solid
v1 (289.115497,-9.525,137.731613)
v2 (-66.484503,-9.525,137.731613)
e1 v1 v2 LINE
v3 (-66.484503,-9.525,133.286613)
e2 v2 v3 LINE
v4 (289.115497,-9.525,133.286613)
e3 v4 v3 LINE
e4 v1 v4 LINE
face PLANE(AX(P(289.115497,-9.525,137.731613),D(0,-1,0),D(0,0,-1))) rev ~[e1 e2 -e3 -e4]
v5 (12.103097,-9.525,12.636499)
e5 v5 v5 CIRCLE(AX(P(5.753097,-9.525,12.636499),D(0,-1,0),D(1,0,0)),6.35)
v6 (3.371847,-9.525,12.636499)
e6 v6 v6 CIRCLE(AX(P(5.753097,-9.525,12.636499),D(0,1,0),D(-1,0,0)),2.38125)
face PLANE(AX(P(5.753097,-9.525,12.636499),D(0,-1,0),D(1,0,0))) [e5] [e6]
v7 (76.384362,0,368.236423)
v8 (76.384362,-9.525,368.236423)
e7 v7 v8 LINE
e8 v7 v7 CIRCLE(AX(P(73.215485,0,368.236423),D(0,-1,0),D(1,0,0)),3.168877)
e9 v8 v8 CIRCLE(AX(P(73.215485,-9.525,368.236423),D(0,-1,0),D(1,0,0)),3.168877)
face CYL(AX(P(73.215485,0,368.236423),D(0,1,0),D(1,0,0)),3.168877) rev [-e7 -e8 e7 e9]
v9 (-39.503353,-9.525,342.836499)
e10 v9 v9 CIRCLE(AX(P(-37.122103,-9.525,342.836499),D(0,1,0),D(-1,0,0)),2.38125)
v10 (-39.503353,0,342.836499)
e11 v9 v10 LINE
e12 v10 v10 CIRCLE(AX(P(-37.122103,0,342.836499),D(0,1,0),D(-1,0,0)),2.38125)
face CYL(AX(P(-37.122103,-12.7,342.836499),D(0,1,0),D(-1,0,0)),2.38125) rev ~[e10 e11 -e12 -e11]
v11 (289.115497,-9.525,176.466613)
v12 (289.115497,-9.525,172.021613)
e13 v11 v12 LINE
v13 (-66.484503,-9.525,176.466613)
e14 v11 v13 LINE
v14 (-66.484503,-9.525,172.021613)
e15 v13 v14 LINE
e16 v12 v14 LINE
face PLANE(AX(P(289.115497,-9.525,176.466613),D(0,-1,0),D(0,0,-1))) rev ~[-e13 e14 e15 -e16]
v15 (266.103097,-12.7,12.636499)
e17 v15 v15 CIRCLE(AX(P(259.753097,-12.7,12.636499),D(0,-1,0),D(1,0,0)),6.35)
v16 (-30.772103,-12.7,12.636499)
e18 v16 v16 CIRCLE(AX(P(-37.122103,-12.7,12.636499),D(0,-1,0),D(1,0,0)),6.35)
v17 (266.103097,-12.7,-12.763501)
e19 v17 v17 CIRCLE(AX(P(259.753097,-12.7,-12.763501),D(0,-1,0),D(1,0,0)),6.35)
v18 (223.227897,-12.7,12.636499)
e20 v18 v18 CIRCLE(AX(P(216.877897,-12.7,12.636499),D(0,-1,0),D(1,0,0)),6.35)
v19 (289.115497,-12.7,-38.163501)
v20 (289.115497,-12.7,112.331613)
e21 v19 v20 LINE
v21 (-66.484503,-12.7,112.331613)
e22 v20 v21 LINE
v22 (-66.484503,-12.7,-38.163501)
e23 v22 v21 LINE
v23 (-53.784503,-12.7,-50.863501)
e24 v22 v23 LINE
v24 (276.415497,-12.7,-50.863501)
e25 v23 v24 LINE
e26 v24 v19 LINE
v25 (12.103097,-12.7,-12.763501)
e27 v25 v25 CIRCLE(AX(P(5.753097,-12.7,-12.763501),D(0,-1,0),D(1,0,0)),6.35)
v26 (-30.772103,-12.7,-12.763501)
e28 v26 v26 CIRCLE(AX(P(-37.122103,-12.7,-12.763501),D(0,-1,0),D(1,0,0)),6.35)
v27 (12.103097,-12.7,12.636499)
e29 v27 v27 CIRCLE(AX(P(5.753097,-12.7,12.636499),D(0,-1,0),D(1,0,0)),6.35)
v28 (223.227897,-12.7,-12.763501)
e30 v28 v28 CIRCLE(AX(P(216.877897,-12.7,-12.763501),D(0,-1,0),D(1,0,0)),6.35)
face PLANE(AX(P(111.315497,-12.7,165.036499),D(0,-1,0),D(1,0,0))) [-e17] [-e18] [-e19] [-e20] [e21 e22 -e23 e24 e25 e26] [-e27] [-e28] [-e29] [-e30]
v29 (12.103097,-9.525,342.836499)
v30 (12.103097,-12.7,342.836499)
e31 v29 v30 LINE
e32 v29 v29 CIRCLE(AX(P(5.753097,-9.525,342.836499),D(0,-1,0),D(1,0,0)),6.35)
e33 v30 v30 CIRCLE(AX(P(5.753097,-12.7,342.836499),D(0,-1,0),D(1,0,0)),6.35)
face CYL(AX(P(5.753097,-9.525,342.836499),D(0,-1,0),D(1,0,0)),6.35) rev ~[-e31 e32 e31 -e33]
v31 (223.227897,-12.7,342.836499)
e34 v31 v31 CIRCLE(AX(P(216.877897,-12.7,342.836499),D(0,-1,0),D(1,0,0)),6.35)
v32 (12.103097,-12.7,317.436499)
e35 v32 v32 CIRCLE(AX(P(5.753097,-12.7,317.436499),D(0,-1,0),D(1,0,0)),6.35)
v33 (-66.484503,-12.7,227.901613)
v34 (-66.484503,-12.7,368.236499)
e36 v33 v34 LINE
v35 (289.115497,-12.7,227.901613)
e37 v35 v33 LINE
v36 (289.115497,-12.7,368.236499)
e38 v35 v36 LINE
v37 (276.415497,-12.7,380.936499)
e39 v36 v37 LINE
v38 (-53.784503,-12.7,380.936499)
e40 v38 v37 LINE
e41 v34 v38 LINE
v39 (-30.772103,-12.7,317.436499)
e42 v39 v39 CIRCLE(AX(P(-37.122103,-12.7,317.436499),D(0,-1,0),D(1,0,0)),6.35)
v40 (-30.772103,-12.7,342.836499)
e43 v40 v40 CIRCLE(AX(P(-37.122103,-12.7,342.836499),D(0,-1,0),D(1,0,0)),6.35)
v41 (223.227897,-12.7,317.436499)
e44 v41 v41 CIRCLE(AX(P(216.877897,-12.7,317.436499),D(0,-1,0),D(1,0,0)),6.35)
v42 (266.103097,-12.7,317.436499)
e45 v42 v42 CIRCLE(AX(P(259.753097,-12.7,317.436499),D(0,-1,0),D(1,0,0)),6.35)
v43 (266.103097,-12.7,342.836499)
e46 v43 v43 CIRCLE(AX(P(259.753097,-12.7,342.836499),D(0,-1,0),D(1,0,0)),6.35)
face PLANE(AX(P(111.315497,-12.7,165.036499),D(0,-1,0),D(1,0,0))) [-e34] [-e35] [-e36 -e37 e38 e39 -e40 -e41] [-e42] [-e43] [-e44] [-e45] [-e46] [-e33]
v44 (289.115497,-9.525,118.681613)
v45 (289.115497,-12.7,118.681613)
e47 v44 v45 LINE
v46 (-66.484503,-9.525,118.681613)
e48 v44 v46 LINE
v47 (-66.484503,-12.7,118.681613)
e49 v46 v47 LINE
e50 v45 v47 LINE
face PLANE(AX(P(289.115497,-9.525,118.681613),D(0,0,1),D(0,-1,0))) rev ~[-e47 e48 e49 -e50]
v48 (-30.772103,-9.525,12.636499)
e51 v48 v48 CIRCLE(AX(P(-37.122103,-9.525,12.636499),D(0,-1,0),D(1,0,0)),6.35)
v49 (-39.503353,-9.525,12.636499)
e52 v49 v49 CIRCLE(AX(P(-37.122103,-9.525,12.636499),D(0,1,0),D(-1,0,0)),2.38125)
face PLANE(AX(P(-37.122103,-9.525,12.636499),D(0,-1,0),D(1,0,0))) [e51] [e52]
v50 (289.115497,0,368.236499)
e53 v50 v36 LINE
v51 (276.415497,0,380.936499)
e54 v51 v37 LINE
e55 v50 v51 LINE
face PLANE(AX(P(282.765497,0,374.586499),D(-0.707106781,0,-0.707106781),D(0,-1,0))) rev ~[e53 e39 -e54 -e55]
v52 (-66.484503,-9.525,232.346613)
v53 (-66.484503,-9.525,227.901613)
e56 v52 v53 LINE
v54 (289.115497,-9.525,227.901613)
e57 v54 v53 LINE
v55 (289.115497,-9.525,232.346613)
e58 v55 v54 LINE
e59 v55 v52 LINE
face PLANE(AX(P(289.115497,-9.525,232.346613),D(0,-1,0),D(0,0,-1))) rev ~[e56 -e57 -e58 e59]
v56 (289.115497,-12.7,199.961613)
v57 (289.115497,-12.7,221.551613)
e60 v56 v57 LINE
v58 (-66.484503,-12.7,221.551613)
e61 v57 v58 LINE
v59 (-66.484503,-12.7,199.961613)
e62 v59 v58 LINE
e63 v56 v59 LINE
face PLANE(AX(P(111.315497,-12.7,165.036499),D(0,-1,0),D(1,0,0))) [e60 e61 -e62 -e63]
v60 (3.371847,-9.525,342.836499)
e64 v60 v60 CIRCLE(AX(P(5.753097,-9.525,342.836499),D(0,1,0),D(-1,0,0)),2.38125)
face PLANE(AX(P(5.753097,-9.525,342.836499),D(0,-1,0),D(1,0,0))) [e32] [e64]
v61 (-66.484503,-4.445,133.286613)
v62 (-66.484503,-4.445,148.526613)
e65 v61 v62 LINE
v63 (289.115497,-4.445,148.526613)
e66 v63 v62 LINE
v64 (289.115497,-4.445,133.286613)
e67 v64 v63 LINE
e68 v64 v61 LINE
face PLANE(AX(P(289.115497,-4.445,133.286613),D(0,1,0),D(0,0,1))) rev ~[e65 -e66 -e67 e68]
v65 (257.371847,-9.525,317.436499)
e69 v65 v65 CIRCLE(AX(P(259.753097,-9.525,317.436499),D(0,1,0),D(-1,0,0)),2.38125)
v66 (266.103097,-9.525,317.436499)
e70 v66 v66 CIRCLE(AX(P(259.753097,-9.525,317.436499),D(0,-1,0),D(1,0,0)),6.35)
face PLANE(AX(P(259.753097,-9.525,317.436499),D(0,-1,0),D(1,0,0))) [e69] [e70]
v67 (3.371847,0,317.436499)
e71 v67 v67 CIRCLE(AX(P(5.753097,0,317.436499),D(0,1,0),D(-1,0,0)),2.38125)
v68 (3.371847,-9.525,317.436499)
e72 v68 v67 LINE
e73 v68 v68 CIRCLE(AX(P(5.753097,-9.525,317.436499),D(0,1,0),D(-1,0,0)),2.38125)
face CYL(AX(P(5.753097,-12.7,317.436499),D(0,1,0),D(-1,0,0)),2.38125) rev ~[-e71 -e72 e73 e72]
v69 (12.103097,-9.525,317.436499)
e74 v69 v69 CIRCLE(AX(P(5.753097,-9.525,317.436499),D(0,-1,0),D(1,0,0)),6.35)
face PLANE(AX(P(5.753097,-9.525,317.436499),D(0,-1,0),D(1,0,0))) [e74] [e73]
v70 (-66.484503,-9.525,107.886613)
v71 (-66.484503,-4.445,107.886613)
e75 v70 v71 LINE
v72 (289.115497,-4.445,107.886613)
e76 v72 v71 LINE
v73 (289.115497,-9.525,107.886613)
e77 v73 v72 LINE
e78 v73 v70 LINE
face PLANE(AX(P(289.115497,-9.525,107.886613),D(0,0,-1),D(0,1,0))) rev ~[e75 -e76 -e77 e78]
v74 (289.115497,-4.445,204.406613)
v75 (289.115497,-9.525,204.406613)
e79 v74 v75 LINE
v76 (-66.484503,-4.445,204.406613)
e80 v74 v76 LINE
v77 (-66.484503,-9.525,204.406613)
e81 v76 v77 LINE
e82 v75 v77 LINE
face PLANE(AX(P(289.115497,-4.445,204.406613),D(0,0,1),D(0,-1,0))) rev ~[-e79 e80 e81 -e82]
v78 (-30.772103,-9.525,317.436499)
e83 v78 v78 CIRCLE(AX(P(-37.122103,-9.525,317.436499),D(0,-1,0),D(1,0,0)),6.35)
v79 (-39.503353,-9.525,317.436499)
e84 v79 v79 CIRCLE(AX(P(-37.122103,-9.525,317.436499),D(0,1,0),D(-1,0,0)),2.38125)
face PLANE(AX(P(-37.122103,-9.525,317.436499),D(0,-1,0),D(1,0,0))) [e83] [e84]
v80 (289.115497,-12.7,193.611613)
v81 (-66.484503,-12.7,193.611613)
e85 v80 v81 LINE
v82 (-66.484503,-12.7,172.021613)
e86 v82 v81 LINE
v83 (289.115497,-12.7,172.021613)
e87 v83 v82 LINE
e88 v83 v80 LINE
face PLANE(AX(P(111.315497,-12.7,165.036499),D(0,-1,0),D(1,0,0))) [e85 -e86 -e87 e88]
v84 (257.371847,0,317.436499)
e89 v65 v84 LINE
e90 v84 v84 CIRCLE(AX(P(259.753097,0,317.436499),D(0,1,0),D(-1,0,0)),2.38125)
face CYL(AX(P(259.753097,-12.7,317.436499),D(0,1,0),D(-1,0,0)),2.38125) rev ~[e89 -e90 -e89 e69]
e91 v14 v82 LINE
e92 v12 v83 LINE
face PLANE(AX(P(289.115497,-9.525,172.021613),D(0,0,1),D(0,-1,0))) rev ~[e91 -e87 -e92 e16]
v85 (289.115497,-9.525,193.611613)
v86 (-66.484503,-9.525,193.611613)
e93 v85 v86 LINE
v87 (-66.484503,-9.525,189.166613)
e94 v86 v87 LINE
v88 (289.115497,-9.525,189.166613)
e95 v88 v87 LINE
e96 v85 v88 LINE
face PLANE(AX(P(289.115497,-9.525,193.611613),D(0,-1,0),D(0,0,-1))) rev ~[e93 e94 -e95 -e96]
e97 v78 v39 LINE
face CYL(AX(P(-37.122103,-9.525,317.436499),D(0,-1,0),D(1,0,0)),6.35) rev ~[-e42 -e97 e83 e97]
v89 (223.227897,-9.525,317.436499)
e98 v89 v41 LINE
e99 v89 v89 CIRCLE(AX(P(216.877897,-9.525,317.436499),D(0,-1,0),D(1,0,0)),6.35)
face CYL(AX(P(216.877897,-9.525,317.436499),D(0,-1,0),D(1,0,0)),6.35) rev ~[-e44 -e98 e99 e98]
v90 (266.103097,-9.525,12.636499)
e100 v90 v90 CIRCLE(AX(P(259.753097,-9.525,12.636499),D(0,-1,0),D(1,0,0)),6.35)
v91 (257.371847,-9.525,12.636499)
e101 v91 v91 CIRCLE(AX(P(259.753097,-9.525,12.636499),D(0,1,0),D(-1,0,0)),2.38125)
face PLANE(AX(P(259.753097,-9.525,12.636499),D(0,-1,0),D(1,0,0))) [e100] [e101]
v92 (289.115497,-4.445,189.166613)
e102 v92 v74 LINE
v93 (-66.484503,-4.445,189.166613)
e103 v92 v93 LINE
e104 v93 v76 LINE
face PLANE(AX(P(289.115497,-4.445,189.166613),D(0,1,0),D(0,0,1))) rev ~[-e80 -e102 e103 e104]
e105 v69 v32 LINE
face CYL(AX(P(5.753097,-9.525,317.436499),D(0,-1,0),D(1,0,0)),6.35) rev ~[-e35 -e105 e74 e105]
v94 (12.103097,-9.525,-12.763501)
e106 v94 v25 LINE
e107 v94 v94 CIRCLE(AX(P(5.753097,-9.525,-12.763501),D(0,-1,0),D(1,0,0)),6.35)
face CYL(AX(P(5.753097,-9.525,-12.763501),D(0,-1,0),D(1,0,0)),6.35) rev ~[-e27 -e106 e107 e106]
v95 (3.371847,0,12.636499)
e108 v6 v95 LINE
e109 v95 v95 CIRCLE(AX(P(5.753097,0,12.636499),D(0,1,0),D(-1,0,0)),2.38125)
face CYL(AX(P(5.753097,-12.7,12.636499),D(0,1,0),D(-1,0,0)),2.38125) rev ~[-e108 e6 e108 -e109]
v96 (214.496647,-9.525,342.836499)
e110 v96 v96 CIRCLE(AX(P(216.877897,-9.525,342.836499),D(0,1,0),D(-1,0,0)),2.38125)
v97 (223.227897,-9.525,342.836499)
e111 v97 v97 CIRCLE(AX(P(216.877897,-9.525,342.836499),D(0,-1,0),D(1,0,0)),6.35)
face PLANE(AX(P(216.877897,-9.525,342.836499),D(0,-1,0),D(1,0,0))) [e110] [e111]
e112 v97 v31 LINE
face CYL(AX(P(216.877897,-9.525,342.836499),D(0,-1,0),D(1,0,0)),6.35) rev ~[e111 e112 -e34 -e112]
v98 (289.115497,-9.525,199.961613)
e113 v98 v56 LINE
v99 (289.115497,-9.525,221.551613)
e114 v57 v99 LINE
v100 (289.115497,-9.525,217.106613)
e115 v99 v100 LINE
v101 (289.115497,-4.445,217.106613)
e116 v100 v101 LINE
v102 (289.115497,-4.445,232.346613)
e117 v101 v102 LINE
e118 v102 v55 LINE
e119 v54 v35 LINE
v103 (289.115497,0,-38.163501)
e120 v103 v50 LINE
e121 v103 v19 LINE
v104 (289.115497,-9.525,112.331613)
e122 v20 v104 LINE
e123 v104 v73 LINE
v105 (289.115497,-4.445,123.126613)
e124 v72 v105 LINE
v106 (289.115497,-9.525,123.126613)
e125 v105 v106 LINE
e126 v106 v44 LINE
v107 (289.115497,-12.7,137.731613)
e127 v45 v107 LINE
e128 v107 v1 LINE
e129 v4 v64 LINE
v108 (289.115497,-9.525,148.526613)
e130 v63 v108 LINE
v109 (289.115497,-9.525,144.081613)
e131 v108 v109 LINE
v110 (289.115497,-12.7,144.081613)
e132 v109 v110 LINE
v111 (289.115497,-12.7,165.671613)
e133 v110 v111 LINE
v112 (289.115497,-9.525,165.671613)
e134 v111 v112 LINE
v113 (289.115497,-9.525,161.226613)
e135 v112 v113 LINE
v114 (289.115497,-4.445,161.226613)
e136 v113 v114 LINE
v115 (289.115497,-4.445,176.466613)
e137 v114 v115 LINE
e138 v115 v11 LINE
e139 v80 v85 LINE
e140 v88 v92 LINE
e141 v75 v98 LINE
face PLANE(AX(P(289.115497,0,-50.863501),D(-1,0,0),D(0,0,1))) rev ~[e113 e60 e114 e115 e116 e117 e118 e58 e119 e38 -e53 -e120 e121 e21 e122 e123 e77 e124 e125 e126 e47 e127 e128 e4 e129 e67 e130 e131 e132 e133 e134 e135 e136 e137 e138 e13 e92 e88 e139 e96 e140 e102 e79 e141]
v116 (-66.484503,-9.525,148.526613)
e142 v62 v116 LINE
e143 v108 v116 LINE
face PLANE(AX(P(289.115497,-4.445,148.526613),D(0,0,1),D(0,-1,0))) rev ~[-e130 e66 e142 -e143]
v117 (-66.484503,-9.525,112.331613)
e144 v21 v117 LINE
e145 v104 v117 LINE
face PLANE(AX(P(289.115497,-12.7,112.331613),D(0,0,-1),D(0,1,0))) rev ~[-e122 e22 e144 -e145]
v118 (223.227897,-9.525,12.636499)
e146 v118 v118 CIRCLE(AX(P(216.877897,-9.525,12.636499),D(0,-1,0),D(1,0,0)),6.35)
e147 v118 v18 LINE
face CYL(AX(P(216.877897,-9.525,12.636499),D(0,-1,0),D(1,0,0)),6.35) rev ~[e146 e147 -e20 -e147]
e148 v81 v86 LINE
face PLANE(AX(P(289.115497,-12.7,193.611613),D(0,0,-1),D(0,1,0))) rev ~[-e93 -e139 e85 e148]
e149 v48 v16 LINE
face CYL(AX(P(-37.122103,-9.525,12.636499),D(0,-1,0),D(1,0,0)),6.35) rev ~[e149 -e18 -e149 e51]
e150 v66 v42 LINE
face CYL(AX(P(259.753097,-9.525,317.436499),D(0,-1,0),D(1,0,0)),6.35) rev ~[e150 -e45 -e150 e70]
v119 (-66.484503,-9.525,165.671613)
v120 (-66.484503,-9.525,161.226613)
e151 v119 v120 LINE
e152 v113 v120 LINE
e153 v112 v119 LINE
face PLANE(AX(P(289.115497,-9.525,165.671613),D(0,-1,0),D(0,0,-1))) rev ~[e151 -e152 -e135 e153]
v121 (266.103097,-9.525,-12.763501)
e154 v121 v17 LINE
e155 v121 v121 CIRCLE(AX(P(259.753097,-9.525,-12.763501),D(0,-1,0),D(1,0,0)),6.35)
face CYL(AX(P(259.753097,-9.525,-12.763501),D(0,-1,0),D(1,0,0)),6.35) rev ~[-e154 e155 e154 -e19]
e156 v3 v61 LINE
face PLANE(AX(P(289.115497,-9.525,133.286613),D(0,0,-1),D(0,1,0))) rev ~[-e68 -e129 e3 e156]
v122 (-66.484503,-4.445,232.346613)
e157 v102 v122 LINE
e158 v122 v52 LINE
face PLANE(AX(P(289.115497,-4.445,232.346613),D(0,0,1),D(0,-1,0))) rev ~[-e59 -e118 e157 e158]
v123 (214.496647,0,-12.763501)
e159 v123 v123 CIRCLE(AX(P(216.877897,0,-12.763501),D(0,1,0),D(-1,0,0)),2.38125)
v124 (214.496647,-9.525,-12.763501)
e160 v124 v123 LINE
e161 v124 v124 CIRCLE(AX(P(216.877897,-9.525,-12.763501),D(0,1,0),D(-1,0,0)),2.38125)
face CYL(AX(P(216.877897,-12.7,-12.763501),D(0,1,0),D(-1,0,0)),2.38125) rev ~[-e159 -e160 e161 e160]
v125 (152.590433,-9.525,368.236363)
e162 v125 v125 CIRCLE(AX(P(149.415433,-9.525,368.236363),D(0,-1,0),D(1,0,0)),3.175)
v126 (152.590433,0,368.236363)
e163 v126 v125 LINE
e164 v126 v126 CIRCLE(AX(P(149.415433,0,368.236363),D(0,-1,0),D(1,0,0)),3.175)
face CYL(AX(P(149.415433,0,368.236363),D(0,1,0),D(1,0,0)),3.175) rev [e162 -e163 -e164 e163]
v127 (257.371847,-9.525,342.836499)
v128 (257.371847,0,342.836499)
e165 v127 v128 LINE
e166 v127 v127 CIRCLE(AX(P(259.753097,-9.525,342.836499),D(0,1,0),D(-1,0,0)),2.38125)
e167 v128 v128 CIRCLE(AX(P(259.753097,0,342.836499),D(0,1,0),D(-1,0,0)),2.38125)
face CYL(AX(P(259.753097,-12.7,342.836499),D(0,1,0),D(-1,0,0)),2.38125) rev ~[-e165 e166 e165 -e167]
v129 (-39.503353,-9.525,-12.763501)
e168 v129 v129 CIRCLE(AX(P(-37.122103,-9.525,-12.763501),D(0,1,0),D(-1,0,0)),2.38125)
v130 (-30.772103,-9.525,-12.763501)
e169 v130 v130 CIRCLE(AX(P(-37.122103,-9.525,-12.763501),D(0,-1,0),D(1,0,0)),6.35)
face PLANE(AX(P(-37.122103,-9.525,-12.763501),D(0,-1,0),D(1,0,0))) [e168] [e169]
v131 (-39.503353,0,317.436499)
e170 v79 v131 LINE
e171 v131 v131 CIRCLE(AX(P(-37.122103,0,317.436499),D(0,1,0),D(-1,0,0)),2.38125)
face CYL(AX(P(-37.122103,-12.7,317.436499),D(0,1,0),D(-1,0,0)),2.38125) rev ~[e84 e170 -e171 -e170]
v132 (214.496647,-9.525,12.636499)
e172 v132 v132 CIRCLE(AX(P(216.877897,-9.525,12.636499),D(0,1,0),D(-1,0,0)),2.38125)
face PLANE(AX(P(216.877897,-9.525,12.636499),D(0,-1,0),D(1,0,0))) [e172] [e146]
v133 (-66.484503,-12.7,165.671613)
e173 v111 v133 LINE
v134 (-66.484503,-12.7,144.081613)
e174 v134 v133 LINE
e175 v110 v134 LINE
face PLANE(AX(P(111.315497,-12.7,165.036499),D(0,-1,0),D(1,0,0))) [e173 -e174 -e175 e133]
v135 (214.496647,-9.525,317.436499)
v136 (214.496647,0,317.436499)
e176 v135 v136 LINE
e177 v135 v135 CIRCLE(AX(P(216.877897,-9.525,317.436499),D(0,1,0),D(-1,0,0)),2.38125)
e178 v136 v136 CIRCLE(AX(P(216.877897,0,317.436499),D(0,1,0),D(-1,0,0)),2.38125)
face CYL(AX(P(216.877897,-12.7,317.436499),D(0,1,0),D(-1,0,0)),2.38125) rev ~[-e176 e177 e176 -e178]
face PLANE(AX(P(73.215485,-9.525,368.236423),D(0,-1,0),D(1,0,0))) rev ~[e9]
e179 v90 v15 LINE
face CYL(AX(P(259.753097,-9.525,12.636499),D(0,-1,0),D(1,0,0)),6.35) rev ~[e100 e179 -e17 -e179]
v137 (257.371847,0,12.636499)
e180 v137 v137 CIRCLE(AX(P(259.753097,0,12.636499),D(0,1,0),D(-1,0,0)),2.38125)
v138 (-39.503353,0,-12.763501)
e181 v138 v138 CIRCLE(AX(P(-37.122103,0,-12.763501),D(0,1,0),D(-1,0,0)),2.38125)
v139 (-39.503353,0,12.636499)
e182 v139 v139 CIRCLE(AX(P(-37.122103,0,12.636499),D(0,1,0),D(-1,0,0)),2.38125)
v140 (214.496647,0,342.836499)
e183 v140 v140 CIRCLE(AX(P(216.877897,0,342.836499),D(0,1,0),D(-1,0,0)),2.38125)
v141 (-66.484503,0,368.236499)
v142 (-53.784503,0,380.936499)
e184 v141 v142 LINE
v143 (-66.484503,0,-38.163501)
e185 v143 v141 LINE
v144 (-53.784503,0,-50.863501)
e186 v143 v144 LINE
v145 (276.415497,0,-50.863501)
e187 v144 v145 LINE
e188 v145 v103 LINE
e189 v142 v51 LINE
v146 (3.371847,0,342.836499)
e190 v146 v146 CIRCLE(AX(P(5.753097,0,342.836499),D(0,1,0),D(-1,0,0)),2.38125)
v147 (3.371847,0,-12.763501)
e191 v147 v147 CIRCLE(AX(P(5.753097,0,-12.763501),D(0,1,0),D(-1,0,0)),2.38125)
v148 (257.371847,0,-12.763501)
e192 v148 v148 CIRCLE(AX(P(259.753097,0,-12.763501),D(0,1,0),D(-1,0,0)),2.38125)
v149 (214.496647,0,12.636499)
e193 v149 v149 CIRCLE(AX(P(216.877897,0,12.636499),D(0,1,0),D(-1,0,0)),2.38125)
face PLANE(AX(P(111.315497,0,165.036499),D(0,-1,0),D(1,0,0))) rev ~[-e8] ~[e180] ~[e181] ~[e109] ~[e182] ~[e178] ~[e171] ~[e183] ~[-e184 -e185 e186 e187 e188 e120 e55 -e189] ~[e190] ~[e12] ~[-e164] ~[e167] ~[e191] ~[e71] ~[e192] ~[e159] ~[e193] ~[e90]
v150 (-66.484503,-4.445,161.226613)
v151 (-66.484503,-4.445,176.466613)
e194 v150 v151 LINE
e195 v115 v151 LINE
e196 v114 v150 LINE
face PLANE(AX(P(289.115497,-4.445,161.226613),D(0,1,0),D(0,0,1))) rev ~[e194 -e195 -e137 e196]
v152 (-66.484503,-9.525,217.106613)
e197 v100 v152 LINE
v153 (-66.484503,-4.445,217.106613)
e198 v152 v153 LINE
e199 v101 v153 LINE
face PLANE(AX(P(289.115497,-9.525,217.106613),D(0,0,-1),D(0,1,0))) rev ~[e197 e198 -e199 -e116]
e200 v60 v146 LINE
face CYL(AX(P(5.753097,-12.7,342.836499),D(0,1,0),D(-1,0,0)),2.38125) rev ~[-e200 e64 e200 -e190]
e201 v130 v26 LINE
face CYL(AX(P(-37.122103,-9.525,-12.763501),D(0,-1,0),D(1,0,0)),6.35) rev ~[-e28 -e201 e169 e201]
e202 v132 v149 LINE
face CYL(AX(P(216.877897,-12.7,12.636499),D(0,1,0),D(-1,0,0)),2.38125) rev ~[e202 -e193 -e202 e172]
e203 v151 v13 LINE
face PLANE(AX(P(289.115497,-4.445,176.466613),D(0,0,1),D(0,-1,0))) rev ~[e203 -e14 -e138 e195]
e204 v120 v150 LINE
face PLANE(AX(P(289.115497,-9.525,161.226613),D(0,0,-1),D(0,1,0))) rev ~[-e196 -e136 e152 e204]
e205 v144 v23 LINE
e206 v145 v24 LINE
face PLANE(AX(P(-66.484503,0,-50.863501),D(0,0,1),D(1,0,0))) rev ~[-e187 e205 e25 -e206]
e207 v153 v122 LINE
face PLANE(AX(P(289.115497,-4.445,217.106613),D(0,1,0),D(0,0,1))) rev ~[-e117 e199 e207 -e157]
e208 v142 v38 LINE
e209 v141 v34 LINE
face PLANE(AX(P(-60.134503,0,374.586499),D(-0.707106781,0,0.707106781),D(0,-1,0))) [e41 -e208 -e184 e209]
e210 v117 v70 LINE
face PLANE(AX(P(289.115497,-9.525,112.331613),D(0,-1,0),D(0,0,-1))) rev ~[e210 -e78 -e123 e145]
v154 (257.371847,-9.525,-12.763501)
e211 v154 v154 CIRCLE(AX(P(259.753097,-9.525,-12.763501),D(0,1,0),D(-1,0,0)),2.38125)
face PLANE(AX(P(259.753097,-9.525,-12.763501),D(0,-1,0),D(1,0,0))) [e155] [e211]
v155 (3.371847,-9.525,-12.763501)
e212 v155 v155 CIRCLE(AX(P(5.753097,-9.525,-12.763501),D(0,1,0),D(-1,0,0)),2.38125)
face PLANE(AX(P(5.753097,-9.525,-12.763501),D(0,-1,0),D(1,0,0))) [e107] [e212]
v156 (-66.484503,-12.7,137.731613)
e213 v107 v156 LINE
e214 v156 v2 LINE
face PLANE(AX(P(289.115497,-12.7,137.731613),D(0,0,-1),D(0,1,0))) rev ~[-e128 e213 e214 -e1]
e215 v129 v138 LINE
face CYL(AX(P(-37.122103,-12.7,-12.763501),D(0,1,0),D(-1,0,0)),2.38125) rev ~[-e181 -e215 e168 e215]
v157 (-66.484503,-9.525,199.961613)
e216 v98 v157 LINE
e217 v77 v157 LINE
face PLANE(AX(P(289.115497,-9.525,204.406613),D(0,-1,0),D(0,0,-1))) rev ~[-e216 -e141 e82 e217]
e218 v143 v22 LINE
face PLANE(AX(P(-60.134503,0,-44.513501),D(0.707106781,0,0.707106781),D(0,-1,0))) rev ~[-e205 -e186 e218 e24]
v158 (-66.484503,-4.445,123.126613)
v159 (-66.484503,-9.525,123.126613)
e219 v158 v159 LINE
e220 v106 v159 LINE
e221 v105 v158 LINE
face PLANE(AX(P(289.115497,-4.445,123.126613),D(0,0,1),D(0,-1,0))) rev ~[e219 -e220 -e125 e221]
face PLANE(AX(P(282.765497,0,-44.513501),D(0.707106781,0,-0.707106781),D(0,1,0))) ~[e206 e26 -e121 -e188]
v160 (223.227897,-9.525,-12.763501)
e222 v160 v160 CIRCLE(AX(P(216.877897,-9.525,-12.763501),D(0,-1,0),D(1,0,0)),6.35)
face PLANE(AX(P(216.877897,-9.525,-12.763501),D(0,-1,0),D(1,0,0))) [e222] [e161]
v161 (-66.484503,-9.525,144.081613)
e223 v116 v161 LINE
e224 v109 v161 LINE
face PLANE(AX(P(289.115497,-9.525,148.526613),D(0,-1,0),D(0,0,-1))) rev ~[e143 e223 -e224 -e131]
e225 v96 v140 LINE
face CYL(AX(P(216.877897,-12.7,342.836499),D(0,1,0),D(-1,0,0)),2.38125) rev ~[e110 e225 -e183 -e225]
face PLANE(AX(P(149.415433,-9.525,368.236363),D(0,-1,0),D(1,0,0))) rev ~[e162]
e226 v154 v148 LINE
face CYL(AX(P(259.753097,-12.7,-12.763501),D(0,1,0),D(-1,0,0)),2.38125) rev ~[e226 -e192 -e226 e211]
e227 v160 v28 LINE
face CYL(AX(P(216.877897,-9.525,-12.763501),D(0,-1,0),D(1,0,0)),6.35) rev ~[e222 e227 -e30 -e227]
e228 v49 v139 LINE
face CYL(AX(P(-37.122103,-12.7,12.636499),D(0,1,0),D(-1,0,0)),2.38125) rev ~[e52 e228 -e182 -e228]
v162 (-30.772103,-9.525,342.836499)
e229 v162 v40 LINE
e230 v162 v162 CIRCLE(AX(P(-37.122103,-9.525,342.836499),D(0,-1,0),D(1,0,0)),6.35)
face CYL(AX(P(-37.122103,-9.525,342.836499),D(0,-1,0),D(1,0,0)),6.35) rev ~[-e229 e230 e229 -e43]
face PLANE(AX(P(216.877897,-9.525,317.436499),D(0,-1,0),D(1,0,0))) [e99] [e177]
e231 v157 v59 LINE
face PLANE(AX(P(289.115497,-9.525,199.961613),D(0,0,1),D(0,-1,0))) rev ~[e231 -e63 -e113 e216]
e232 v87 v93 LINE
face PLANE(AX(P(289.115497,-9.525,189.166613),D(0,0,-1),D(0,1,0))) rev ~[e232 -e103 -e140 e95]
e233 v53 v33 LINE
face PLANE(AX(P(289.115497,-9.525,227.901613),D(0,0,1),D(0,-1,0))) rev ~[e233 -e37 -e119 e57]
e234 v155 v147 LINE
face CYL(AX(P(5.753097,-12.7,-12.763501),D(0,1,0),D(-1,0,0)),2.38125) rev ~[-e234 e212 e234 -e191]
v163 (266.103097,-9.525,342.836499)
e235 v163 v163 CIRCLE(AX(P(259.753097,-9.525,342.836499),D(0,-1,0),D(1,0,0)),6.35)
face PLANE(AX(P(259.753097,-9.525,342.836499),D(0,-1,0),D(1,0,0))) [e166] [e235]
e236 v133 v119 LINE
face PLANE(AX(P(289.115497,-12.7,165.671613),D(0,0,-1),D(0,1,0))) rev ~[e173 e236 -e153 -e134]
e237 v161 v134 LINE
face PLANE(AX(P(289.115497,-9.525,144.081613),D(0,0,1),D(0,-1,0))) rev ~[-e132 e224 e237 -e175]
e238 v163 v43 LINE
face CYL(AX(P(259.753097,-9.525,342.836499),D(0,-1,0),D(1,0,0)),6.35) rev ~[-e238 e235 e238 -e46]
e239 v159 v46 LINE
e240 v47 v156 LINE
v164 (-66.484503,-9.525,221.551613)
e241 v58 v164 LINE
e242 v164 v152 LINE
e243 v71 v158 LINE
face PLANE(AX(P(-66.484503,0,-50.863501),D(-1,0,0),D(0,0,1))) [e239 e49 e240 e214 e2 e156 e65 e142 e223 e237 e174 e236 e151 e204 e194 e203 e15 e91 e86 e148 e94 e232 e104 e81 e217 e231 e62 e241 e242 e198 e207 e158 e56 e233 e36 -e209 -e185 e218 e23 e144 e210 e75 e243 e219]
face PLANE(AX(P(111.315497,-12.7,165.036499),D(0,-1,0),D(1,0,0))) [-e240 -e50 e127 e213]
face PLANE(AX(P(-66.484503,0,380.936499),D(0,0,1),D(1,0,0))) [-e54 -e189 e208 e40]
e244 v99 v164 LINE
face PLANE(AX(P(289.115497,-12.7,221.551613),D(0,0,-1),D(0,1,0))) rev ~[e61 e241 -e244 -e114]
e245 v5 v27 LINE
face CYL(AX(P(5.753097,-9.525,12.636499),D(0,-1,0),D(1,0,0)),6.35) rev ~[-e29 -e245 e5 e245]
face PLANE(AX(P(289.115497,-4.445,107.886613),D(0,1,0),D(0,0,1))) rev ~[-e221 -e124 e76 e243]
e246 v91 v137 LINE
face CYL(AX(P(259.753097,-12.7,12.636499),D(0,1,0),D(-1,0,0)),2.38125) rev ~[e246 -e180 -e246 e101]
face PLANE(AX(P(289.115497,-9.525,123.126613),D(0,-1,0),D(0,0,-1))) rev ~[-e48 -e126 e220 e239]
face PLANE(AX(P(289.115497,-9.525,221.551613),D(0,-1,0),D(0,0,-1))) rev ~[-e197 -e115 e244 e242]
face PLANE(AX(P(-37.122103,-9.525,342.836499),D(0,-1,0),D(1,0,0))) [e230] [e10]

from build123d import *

# Parameters (mm, degrees)
F0_W           = 355.6
F0_H           = 431.8
F1_DEPTH       = 12.7
F2_SIZE2       = 12.7
F2_SIZE        = 12.7
F4_D           = 4.7625
F4_DEPTH       = 76.2
F4_CBORE_D     = 12.7
F4_CBORE_DEPTH = 3.175
F7_DEPTH       = 355.6
F8_R           = 3.175
F8_R_2         = 3.168877
F9_DEPTH       = 9.525


with BuildPart() as f1:
    # F0 (on Front) → F1 (new body)
    with BuildSketch(Plane.XZ):
        with Locations((111.315497, 165.036499)):
            Rectangle(F0_W, F0_H)
    extrude(amount=F1_DEPTH)

    # F2
    f2_edges = [f1.edges().sort_by_distance(p)[0] for p in [
        (-66.484503, -6.35, 380.936499),
        (289.115497, -6.35, 380.936499),
        (289.115497, -6.35, -50.863501),
        (-66.484503, -6.35, -50.863501),
    ]]
    chamfer(f2_edges, length=F2_SIZE, length2=F2_SIZE2)

    # F4
    with Locations(Plane.XZ.offset(12.7)):
        with Locations((-37.122103, 342.836499), (-37.122103, 317.436499), (5.753097, 317.436499), (5.753097, 342.836499), (216.877897, 317.436499), (216.877897, 342.836499), (259.753097, 317.436499), (259.753097, 342.836499), (259.753097, -12.763501), (259.753097, 12.636499), (216.877897, -12.763501), (216.877897, 12.636499), (5.753097, -12.763501), (5.753097, 12.636499), (-37.122103, -12.763501), (-37.122103, 12.636499)):
            CounterBoreHole(F4_D / 2, F4_CBORE_D / 2, F4_CBORE_DEPTH, depth=F4_DEPTH)

    # F6 (on face) → F7 (cut)
    with BuildSketch(Plane.YZ.offset(289.115497)):
        Polygon((-12.7, 172.021613), (-12.7, 165.671613), (-9.525, 165.671613), (-9.525, 161.226613), (-4.445, 161.226613), (-4.445, 176.466613), (-9.525, 176.466613), (-9.525, 172.021613), align=None)
        Polygon((-12.7, 199.961613), (-12.7, 193.611613), (-9.525, 193.611613), (-9.525, 189.166613), (-4.445, 189.166613), (-4.445, 204.406613), (-9.525, 204.406613), (-9.525, 199.961613), align=None)
        Polygon((-9.525, 217.106613), (-4.445, 217.106613), (-4.445, 232.346613), (-9.525, 232.346613), (-9.525, 227.901613), (-12.7, 227.901613), (-12.7, 221.551613), (-9.525, 221.551613), align=None)
        Polygon((-4.445, 133.286613), (-4.445, 148.526613), (-9.525, 148.526613), (-9.525, 144.081613), (-12.7, 144.081613), (-12.7, 137.731613), (-9.525, 137.731613), (-9.525, 133.286613), align=None)
        Polygon((-9.525, 123.126613), (-9.525, 118.681613), (-12.7, 118.681613), (-12.7, 112.331613), (-9.525, 112.331613), (-9.525, 107.886613), (-4.445, 107.886613), (-4.445, 123.126613), align=None)
    extrude(amount=-F7_DEPTH, mode=Mode.SUBTRACT)

    # F8 (on face) → F9 (cut)
    with BuildSketch(Plane.XZ):
        with Locations((149.415433, 368.236363)):
            Circle(F8_R)
        with Locations((73.215485, 368.236423)):
            Circle(F8_R_2)
    extrude(amount=F9_DEPTH, mode=Mode.SUBTRACT)


solid = f1.part
